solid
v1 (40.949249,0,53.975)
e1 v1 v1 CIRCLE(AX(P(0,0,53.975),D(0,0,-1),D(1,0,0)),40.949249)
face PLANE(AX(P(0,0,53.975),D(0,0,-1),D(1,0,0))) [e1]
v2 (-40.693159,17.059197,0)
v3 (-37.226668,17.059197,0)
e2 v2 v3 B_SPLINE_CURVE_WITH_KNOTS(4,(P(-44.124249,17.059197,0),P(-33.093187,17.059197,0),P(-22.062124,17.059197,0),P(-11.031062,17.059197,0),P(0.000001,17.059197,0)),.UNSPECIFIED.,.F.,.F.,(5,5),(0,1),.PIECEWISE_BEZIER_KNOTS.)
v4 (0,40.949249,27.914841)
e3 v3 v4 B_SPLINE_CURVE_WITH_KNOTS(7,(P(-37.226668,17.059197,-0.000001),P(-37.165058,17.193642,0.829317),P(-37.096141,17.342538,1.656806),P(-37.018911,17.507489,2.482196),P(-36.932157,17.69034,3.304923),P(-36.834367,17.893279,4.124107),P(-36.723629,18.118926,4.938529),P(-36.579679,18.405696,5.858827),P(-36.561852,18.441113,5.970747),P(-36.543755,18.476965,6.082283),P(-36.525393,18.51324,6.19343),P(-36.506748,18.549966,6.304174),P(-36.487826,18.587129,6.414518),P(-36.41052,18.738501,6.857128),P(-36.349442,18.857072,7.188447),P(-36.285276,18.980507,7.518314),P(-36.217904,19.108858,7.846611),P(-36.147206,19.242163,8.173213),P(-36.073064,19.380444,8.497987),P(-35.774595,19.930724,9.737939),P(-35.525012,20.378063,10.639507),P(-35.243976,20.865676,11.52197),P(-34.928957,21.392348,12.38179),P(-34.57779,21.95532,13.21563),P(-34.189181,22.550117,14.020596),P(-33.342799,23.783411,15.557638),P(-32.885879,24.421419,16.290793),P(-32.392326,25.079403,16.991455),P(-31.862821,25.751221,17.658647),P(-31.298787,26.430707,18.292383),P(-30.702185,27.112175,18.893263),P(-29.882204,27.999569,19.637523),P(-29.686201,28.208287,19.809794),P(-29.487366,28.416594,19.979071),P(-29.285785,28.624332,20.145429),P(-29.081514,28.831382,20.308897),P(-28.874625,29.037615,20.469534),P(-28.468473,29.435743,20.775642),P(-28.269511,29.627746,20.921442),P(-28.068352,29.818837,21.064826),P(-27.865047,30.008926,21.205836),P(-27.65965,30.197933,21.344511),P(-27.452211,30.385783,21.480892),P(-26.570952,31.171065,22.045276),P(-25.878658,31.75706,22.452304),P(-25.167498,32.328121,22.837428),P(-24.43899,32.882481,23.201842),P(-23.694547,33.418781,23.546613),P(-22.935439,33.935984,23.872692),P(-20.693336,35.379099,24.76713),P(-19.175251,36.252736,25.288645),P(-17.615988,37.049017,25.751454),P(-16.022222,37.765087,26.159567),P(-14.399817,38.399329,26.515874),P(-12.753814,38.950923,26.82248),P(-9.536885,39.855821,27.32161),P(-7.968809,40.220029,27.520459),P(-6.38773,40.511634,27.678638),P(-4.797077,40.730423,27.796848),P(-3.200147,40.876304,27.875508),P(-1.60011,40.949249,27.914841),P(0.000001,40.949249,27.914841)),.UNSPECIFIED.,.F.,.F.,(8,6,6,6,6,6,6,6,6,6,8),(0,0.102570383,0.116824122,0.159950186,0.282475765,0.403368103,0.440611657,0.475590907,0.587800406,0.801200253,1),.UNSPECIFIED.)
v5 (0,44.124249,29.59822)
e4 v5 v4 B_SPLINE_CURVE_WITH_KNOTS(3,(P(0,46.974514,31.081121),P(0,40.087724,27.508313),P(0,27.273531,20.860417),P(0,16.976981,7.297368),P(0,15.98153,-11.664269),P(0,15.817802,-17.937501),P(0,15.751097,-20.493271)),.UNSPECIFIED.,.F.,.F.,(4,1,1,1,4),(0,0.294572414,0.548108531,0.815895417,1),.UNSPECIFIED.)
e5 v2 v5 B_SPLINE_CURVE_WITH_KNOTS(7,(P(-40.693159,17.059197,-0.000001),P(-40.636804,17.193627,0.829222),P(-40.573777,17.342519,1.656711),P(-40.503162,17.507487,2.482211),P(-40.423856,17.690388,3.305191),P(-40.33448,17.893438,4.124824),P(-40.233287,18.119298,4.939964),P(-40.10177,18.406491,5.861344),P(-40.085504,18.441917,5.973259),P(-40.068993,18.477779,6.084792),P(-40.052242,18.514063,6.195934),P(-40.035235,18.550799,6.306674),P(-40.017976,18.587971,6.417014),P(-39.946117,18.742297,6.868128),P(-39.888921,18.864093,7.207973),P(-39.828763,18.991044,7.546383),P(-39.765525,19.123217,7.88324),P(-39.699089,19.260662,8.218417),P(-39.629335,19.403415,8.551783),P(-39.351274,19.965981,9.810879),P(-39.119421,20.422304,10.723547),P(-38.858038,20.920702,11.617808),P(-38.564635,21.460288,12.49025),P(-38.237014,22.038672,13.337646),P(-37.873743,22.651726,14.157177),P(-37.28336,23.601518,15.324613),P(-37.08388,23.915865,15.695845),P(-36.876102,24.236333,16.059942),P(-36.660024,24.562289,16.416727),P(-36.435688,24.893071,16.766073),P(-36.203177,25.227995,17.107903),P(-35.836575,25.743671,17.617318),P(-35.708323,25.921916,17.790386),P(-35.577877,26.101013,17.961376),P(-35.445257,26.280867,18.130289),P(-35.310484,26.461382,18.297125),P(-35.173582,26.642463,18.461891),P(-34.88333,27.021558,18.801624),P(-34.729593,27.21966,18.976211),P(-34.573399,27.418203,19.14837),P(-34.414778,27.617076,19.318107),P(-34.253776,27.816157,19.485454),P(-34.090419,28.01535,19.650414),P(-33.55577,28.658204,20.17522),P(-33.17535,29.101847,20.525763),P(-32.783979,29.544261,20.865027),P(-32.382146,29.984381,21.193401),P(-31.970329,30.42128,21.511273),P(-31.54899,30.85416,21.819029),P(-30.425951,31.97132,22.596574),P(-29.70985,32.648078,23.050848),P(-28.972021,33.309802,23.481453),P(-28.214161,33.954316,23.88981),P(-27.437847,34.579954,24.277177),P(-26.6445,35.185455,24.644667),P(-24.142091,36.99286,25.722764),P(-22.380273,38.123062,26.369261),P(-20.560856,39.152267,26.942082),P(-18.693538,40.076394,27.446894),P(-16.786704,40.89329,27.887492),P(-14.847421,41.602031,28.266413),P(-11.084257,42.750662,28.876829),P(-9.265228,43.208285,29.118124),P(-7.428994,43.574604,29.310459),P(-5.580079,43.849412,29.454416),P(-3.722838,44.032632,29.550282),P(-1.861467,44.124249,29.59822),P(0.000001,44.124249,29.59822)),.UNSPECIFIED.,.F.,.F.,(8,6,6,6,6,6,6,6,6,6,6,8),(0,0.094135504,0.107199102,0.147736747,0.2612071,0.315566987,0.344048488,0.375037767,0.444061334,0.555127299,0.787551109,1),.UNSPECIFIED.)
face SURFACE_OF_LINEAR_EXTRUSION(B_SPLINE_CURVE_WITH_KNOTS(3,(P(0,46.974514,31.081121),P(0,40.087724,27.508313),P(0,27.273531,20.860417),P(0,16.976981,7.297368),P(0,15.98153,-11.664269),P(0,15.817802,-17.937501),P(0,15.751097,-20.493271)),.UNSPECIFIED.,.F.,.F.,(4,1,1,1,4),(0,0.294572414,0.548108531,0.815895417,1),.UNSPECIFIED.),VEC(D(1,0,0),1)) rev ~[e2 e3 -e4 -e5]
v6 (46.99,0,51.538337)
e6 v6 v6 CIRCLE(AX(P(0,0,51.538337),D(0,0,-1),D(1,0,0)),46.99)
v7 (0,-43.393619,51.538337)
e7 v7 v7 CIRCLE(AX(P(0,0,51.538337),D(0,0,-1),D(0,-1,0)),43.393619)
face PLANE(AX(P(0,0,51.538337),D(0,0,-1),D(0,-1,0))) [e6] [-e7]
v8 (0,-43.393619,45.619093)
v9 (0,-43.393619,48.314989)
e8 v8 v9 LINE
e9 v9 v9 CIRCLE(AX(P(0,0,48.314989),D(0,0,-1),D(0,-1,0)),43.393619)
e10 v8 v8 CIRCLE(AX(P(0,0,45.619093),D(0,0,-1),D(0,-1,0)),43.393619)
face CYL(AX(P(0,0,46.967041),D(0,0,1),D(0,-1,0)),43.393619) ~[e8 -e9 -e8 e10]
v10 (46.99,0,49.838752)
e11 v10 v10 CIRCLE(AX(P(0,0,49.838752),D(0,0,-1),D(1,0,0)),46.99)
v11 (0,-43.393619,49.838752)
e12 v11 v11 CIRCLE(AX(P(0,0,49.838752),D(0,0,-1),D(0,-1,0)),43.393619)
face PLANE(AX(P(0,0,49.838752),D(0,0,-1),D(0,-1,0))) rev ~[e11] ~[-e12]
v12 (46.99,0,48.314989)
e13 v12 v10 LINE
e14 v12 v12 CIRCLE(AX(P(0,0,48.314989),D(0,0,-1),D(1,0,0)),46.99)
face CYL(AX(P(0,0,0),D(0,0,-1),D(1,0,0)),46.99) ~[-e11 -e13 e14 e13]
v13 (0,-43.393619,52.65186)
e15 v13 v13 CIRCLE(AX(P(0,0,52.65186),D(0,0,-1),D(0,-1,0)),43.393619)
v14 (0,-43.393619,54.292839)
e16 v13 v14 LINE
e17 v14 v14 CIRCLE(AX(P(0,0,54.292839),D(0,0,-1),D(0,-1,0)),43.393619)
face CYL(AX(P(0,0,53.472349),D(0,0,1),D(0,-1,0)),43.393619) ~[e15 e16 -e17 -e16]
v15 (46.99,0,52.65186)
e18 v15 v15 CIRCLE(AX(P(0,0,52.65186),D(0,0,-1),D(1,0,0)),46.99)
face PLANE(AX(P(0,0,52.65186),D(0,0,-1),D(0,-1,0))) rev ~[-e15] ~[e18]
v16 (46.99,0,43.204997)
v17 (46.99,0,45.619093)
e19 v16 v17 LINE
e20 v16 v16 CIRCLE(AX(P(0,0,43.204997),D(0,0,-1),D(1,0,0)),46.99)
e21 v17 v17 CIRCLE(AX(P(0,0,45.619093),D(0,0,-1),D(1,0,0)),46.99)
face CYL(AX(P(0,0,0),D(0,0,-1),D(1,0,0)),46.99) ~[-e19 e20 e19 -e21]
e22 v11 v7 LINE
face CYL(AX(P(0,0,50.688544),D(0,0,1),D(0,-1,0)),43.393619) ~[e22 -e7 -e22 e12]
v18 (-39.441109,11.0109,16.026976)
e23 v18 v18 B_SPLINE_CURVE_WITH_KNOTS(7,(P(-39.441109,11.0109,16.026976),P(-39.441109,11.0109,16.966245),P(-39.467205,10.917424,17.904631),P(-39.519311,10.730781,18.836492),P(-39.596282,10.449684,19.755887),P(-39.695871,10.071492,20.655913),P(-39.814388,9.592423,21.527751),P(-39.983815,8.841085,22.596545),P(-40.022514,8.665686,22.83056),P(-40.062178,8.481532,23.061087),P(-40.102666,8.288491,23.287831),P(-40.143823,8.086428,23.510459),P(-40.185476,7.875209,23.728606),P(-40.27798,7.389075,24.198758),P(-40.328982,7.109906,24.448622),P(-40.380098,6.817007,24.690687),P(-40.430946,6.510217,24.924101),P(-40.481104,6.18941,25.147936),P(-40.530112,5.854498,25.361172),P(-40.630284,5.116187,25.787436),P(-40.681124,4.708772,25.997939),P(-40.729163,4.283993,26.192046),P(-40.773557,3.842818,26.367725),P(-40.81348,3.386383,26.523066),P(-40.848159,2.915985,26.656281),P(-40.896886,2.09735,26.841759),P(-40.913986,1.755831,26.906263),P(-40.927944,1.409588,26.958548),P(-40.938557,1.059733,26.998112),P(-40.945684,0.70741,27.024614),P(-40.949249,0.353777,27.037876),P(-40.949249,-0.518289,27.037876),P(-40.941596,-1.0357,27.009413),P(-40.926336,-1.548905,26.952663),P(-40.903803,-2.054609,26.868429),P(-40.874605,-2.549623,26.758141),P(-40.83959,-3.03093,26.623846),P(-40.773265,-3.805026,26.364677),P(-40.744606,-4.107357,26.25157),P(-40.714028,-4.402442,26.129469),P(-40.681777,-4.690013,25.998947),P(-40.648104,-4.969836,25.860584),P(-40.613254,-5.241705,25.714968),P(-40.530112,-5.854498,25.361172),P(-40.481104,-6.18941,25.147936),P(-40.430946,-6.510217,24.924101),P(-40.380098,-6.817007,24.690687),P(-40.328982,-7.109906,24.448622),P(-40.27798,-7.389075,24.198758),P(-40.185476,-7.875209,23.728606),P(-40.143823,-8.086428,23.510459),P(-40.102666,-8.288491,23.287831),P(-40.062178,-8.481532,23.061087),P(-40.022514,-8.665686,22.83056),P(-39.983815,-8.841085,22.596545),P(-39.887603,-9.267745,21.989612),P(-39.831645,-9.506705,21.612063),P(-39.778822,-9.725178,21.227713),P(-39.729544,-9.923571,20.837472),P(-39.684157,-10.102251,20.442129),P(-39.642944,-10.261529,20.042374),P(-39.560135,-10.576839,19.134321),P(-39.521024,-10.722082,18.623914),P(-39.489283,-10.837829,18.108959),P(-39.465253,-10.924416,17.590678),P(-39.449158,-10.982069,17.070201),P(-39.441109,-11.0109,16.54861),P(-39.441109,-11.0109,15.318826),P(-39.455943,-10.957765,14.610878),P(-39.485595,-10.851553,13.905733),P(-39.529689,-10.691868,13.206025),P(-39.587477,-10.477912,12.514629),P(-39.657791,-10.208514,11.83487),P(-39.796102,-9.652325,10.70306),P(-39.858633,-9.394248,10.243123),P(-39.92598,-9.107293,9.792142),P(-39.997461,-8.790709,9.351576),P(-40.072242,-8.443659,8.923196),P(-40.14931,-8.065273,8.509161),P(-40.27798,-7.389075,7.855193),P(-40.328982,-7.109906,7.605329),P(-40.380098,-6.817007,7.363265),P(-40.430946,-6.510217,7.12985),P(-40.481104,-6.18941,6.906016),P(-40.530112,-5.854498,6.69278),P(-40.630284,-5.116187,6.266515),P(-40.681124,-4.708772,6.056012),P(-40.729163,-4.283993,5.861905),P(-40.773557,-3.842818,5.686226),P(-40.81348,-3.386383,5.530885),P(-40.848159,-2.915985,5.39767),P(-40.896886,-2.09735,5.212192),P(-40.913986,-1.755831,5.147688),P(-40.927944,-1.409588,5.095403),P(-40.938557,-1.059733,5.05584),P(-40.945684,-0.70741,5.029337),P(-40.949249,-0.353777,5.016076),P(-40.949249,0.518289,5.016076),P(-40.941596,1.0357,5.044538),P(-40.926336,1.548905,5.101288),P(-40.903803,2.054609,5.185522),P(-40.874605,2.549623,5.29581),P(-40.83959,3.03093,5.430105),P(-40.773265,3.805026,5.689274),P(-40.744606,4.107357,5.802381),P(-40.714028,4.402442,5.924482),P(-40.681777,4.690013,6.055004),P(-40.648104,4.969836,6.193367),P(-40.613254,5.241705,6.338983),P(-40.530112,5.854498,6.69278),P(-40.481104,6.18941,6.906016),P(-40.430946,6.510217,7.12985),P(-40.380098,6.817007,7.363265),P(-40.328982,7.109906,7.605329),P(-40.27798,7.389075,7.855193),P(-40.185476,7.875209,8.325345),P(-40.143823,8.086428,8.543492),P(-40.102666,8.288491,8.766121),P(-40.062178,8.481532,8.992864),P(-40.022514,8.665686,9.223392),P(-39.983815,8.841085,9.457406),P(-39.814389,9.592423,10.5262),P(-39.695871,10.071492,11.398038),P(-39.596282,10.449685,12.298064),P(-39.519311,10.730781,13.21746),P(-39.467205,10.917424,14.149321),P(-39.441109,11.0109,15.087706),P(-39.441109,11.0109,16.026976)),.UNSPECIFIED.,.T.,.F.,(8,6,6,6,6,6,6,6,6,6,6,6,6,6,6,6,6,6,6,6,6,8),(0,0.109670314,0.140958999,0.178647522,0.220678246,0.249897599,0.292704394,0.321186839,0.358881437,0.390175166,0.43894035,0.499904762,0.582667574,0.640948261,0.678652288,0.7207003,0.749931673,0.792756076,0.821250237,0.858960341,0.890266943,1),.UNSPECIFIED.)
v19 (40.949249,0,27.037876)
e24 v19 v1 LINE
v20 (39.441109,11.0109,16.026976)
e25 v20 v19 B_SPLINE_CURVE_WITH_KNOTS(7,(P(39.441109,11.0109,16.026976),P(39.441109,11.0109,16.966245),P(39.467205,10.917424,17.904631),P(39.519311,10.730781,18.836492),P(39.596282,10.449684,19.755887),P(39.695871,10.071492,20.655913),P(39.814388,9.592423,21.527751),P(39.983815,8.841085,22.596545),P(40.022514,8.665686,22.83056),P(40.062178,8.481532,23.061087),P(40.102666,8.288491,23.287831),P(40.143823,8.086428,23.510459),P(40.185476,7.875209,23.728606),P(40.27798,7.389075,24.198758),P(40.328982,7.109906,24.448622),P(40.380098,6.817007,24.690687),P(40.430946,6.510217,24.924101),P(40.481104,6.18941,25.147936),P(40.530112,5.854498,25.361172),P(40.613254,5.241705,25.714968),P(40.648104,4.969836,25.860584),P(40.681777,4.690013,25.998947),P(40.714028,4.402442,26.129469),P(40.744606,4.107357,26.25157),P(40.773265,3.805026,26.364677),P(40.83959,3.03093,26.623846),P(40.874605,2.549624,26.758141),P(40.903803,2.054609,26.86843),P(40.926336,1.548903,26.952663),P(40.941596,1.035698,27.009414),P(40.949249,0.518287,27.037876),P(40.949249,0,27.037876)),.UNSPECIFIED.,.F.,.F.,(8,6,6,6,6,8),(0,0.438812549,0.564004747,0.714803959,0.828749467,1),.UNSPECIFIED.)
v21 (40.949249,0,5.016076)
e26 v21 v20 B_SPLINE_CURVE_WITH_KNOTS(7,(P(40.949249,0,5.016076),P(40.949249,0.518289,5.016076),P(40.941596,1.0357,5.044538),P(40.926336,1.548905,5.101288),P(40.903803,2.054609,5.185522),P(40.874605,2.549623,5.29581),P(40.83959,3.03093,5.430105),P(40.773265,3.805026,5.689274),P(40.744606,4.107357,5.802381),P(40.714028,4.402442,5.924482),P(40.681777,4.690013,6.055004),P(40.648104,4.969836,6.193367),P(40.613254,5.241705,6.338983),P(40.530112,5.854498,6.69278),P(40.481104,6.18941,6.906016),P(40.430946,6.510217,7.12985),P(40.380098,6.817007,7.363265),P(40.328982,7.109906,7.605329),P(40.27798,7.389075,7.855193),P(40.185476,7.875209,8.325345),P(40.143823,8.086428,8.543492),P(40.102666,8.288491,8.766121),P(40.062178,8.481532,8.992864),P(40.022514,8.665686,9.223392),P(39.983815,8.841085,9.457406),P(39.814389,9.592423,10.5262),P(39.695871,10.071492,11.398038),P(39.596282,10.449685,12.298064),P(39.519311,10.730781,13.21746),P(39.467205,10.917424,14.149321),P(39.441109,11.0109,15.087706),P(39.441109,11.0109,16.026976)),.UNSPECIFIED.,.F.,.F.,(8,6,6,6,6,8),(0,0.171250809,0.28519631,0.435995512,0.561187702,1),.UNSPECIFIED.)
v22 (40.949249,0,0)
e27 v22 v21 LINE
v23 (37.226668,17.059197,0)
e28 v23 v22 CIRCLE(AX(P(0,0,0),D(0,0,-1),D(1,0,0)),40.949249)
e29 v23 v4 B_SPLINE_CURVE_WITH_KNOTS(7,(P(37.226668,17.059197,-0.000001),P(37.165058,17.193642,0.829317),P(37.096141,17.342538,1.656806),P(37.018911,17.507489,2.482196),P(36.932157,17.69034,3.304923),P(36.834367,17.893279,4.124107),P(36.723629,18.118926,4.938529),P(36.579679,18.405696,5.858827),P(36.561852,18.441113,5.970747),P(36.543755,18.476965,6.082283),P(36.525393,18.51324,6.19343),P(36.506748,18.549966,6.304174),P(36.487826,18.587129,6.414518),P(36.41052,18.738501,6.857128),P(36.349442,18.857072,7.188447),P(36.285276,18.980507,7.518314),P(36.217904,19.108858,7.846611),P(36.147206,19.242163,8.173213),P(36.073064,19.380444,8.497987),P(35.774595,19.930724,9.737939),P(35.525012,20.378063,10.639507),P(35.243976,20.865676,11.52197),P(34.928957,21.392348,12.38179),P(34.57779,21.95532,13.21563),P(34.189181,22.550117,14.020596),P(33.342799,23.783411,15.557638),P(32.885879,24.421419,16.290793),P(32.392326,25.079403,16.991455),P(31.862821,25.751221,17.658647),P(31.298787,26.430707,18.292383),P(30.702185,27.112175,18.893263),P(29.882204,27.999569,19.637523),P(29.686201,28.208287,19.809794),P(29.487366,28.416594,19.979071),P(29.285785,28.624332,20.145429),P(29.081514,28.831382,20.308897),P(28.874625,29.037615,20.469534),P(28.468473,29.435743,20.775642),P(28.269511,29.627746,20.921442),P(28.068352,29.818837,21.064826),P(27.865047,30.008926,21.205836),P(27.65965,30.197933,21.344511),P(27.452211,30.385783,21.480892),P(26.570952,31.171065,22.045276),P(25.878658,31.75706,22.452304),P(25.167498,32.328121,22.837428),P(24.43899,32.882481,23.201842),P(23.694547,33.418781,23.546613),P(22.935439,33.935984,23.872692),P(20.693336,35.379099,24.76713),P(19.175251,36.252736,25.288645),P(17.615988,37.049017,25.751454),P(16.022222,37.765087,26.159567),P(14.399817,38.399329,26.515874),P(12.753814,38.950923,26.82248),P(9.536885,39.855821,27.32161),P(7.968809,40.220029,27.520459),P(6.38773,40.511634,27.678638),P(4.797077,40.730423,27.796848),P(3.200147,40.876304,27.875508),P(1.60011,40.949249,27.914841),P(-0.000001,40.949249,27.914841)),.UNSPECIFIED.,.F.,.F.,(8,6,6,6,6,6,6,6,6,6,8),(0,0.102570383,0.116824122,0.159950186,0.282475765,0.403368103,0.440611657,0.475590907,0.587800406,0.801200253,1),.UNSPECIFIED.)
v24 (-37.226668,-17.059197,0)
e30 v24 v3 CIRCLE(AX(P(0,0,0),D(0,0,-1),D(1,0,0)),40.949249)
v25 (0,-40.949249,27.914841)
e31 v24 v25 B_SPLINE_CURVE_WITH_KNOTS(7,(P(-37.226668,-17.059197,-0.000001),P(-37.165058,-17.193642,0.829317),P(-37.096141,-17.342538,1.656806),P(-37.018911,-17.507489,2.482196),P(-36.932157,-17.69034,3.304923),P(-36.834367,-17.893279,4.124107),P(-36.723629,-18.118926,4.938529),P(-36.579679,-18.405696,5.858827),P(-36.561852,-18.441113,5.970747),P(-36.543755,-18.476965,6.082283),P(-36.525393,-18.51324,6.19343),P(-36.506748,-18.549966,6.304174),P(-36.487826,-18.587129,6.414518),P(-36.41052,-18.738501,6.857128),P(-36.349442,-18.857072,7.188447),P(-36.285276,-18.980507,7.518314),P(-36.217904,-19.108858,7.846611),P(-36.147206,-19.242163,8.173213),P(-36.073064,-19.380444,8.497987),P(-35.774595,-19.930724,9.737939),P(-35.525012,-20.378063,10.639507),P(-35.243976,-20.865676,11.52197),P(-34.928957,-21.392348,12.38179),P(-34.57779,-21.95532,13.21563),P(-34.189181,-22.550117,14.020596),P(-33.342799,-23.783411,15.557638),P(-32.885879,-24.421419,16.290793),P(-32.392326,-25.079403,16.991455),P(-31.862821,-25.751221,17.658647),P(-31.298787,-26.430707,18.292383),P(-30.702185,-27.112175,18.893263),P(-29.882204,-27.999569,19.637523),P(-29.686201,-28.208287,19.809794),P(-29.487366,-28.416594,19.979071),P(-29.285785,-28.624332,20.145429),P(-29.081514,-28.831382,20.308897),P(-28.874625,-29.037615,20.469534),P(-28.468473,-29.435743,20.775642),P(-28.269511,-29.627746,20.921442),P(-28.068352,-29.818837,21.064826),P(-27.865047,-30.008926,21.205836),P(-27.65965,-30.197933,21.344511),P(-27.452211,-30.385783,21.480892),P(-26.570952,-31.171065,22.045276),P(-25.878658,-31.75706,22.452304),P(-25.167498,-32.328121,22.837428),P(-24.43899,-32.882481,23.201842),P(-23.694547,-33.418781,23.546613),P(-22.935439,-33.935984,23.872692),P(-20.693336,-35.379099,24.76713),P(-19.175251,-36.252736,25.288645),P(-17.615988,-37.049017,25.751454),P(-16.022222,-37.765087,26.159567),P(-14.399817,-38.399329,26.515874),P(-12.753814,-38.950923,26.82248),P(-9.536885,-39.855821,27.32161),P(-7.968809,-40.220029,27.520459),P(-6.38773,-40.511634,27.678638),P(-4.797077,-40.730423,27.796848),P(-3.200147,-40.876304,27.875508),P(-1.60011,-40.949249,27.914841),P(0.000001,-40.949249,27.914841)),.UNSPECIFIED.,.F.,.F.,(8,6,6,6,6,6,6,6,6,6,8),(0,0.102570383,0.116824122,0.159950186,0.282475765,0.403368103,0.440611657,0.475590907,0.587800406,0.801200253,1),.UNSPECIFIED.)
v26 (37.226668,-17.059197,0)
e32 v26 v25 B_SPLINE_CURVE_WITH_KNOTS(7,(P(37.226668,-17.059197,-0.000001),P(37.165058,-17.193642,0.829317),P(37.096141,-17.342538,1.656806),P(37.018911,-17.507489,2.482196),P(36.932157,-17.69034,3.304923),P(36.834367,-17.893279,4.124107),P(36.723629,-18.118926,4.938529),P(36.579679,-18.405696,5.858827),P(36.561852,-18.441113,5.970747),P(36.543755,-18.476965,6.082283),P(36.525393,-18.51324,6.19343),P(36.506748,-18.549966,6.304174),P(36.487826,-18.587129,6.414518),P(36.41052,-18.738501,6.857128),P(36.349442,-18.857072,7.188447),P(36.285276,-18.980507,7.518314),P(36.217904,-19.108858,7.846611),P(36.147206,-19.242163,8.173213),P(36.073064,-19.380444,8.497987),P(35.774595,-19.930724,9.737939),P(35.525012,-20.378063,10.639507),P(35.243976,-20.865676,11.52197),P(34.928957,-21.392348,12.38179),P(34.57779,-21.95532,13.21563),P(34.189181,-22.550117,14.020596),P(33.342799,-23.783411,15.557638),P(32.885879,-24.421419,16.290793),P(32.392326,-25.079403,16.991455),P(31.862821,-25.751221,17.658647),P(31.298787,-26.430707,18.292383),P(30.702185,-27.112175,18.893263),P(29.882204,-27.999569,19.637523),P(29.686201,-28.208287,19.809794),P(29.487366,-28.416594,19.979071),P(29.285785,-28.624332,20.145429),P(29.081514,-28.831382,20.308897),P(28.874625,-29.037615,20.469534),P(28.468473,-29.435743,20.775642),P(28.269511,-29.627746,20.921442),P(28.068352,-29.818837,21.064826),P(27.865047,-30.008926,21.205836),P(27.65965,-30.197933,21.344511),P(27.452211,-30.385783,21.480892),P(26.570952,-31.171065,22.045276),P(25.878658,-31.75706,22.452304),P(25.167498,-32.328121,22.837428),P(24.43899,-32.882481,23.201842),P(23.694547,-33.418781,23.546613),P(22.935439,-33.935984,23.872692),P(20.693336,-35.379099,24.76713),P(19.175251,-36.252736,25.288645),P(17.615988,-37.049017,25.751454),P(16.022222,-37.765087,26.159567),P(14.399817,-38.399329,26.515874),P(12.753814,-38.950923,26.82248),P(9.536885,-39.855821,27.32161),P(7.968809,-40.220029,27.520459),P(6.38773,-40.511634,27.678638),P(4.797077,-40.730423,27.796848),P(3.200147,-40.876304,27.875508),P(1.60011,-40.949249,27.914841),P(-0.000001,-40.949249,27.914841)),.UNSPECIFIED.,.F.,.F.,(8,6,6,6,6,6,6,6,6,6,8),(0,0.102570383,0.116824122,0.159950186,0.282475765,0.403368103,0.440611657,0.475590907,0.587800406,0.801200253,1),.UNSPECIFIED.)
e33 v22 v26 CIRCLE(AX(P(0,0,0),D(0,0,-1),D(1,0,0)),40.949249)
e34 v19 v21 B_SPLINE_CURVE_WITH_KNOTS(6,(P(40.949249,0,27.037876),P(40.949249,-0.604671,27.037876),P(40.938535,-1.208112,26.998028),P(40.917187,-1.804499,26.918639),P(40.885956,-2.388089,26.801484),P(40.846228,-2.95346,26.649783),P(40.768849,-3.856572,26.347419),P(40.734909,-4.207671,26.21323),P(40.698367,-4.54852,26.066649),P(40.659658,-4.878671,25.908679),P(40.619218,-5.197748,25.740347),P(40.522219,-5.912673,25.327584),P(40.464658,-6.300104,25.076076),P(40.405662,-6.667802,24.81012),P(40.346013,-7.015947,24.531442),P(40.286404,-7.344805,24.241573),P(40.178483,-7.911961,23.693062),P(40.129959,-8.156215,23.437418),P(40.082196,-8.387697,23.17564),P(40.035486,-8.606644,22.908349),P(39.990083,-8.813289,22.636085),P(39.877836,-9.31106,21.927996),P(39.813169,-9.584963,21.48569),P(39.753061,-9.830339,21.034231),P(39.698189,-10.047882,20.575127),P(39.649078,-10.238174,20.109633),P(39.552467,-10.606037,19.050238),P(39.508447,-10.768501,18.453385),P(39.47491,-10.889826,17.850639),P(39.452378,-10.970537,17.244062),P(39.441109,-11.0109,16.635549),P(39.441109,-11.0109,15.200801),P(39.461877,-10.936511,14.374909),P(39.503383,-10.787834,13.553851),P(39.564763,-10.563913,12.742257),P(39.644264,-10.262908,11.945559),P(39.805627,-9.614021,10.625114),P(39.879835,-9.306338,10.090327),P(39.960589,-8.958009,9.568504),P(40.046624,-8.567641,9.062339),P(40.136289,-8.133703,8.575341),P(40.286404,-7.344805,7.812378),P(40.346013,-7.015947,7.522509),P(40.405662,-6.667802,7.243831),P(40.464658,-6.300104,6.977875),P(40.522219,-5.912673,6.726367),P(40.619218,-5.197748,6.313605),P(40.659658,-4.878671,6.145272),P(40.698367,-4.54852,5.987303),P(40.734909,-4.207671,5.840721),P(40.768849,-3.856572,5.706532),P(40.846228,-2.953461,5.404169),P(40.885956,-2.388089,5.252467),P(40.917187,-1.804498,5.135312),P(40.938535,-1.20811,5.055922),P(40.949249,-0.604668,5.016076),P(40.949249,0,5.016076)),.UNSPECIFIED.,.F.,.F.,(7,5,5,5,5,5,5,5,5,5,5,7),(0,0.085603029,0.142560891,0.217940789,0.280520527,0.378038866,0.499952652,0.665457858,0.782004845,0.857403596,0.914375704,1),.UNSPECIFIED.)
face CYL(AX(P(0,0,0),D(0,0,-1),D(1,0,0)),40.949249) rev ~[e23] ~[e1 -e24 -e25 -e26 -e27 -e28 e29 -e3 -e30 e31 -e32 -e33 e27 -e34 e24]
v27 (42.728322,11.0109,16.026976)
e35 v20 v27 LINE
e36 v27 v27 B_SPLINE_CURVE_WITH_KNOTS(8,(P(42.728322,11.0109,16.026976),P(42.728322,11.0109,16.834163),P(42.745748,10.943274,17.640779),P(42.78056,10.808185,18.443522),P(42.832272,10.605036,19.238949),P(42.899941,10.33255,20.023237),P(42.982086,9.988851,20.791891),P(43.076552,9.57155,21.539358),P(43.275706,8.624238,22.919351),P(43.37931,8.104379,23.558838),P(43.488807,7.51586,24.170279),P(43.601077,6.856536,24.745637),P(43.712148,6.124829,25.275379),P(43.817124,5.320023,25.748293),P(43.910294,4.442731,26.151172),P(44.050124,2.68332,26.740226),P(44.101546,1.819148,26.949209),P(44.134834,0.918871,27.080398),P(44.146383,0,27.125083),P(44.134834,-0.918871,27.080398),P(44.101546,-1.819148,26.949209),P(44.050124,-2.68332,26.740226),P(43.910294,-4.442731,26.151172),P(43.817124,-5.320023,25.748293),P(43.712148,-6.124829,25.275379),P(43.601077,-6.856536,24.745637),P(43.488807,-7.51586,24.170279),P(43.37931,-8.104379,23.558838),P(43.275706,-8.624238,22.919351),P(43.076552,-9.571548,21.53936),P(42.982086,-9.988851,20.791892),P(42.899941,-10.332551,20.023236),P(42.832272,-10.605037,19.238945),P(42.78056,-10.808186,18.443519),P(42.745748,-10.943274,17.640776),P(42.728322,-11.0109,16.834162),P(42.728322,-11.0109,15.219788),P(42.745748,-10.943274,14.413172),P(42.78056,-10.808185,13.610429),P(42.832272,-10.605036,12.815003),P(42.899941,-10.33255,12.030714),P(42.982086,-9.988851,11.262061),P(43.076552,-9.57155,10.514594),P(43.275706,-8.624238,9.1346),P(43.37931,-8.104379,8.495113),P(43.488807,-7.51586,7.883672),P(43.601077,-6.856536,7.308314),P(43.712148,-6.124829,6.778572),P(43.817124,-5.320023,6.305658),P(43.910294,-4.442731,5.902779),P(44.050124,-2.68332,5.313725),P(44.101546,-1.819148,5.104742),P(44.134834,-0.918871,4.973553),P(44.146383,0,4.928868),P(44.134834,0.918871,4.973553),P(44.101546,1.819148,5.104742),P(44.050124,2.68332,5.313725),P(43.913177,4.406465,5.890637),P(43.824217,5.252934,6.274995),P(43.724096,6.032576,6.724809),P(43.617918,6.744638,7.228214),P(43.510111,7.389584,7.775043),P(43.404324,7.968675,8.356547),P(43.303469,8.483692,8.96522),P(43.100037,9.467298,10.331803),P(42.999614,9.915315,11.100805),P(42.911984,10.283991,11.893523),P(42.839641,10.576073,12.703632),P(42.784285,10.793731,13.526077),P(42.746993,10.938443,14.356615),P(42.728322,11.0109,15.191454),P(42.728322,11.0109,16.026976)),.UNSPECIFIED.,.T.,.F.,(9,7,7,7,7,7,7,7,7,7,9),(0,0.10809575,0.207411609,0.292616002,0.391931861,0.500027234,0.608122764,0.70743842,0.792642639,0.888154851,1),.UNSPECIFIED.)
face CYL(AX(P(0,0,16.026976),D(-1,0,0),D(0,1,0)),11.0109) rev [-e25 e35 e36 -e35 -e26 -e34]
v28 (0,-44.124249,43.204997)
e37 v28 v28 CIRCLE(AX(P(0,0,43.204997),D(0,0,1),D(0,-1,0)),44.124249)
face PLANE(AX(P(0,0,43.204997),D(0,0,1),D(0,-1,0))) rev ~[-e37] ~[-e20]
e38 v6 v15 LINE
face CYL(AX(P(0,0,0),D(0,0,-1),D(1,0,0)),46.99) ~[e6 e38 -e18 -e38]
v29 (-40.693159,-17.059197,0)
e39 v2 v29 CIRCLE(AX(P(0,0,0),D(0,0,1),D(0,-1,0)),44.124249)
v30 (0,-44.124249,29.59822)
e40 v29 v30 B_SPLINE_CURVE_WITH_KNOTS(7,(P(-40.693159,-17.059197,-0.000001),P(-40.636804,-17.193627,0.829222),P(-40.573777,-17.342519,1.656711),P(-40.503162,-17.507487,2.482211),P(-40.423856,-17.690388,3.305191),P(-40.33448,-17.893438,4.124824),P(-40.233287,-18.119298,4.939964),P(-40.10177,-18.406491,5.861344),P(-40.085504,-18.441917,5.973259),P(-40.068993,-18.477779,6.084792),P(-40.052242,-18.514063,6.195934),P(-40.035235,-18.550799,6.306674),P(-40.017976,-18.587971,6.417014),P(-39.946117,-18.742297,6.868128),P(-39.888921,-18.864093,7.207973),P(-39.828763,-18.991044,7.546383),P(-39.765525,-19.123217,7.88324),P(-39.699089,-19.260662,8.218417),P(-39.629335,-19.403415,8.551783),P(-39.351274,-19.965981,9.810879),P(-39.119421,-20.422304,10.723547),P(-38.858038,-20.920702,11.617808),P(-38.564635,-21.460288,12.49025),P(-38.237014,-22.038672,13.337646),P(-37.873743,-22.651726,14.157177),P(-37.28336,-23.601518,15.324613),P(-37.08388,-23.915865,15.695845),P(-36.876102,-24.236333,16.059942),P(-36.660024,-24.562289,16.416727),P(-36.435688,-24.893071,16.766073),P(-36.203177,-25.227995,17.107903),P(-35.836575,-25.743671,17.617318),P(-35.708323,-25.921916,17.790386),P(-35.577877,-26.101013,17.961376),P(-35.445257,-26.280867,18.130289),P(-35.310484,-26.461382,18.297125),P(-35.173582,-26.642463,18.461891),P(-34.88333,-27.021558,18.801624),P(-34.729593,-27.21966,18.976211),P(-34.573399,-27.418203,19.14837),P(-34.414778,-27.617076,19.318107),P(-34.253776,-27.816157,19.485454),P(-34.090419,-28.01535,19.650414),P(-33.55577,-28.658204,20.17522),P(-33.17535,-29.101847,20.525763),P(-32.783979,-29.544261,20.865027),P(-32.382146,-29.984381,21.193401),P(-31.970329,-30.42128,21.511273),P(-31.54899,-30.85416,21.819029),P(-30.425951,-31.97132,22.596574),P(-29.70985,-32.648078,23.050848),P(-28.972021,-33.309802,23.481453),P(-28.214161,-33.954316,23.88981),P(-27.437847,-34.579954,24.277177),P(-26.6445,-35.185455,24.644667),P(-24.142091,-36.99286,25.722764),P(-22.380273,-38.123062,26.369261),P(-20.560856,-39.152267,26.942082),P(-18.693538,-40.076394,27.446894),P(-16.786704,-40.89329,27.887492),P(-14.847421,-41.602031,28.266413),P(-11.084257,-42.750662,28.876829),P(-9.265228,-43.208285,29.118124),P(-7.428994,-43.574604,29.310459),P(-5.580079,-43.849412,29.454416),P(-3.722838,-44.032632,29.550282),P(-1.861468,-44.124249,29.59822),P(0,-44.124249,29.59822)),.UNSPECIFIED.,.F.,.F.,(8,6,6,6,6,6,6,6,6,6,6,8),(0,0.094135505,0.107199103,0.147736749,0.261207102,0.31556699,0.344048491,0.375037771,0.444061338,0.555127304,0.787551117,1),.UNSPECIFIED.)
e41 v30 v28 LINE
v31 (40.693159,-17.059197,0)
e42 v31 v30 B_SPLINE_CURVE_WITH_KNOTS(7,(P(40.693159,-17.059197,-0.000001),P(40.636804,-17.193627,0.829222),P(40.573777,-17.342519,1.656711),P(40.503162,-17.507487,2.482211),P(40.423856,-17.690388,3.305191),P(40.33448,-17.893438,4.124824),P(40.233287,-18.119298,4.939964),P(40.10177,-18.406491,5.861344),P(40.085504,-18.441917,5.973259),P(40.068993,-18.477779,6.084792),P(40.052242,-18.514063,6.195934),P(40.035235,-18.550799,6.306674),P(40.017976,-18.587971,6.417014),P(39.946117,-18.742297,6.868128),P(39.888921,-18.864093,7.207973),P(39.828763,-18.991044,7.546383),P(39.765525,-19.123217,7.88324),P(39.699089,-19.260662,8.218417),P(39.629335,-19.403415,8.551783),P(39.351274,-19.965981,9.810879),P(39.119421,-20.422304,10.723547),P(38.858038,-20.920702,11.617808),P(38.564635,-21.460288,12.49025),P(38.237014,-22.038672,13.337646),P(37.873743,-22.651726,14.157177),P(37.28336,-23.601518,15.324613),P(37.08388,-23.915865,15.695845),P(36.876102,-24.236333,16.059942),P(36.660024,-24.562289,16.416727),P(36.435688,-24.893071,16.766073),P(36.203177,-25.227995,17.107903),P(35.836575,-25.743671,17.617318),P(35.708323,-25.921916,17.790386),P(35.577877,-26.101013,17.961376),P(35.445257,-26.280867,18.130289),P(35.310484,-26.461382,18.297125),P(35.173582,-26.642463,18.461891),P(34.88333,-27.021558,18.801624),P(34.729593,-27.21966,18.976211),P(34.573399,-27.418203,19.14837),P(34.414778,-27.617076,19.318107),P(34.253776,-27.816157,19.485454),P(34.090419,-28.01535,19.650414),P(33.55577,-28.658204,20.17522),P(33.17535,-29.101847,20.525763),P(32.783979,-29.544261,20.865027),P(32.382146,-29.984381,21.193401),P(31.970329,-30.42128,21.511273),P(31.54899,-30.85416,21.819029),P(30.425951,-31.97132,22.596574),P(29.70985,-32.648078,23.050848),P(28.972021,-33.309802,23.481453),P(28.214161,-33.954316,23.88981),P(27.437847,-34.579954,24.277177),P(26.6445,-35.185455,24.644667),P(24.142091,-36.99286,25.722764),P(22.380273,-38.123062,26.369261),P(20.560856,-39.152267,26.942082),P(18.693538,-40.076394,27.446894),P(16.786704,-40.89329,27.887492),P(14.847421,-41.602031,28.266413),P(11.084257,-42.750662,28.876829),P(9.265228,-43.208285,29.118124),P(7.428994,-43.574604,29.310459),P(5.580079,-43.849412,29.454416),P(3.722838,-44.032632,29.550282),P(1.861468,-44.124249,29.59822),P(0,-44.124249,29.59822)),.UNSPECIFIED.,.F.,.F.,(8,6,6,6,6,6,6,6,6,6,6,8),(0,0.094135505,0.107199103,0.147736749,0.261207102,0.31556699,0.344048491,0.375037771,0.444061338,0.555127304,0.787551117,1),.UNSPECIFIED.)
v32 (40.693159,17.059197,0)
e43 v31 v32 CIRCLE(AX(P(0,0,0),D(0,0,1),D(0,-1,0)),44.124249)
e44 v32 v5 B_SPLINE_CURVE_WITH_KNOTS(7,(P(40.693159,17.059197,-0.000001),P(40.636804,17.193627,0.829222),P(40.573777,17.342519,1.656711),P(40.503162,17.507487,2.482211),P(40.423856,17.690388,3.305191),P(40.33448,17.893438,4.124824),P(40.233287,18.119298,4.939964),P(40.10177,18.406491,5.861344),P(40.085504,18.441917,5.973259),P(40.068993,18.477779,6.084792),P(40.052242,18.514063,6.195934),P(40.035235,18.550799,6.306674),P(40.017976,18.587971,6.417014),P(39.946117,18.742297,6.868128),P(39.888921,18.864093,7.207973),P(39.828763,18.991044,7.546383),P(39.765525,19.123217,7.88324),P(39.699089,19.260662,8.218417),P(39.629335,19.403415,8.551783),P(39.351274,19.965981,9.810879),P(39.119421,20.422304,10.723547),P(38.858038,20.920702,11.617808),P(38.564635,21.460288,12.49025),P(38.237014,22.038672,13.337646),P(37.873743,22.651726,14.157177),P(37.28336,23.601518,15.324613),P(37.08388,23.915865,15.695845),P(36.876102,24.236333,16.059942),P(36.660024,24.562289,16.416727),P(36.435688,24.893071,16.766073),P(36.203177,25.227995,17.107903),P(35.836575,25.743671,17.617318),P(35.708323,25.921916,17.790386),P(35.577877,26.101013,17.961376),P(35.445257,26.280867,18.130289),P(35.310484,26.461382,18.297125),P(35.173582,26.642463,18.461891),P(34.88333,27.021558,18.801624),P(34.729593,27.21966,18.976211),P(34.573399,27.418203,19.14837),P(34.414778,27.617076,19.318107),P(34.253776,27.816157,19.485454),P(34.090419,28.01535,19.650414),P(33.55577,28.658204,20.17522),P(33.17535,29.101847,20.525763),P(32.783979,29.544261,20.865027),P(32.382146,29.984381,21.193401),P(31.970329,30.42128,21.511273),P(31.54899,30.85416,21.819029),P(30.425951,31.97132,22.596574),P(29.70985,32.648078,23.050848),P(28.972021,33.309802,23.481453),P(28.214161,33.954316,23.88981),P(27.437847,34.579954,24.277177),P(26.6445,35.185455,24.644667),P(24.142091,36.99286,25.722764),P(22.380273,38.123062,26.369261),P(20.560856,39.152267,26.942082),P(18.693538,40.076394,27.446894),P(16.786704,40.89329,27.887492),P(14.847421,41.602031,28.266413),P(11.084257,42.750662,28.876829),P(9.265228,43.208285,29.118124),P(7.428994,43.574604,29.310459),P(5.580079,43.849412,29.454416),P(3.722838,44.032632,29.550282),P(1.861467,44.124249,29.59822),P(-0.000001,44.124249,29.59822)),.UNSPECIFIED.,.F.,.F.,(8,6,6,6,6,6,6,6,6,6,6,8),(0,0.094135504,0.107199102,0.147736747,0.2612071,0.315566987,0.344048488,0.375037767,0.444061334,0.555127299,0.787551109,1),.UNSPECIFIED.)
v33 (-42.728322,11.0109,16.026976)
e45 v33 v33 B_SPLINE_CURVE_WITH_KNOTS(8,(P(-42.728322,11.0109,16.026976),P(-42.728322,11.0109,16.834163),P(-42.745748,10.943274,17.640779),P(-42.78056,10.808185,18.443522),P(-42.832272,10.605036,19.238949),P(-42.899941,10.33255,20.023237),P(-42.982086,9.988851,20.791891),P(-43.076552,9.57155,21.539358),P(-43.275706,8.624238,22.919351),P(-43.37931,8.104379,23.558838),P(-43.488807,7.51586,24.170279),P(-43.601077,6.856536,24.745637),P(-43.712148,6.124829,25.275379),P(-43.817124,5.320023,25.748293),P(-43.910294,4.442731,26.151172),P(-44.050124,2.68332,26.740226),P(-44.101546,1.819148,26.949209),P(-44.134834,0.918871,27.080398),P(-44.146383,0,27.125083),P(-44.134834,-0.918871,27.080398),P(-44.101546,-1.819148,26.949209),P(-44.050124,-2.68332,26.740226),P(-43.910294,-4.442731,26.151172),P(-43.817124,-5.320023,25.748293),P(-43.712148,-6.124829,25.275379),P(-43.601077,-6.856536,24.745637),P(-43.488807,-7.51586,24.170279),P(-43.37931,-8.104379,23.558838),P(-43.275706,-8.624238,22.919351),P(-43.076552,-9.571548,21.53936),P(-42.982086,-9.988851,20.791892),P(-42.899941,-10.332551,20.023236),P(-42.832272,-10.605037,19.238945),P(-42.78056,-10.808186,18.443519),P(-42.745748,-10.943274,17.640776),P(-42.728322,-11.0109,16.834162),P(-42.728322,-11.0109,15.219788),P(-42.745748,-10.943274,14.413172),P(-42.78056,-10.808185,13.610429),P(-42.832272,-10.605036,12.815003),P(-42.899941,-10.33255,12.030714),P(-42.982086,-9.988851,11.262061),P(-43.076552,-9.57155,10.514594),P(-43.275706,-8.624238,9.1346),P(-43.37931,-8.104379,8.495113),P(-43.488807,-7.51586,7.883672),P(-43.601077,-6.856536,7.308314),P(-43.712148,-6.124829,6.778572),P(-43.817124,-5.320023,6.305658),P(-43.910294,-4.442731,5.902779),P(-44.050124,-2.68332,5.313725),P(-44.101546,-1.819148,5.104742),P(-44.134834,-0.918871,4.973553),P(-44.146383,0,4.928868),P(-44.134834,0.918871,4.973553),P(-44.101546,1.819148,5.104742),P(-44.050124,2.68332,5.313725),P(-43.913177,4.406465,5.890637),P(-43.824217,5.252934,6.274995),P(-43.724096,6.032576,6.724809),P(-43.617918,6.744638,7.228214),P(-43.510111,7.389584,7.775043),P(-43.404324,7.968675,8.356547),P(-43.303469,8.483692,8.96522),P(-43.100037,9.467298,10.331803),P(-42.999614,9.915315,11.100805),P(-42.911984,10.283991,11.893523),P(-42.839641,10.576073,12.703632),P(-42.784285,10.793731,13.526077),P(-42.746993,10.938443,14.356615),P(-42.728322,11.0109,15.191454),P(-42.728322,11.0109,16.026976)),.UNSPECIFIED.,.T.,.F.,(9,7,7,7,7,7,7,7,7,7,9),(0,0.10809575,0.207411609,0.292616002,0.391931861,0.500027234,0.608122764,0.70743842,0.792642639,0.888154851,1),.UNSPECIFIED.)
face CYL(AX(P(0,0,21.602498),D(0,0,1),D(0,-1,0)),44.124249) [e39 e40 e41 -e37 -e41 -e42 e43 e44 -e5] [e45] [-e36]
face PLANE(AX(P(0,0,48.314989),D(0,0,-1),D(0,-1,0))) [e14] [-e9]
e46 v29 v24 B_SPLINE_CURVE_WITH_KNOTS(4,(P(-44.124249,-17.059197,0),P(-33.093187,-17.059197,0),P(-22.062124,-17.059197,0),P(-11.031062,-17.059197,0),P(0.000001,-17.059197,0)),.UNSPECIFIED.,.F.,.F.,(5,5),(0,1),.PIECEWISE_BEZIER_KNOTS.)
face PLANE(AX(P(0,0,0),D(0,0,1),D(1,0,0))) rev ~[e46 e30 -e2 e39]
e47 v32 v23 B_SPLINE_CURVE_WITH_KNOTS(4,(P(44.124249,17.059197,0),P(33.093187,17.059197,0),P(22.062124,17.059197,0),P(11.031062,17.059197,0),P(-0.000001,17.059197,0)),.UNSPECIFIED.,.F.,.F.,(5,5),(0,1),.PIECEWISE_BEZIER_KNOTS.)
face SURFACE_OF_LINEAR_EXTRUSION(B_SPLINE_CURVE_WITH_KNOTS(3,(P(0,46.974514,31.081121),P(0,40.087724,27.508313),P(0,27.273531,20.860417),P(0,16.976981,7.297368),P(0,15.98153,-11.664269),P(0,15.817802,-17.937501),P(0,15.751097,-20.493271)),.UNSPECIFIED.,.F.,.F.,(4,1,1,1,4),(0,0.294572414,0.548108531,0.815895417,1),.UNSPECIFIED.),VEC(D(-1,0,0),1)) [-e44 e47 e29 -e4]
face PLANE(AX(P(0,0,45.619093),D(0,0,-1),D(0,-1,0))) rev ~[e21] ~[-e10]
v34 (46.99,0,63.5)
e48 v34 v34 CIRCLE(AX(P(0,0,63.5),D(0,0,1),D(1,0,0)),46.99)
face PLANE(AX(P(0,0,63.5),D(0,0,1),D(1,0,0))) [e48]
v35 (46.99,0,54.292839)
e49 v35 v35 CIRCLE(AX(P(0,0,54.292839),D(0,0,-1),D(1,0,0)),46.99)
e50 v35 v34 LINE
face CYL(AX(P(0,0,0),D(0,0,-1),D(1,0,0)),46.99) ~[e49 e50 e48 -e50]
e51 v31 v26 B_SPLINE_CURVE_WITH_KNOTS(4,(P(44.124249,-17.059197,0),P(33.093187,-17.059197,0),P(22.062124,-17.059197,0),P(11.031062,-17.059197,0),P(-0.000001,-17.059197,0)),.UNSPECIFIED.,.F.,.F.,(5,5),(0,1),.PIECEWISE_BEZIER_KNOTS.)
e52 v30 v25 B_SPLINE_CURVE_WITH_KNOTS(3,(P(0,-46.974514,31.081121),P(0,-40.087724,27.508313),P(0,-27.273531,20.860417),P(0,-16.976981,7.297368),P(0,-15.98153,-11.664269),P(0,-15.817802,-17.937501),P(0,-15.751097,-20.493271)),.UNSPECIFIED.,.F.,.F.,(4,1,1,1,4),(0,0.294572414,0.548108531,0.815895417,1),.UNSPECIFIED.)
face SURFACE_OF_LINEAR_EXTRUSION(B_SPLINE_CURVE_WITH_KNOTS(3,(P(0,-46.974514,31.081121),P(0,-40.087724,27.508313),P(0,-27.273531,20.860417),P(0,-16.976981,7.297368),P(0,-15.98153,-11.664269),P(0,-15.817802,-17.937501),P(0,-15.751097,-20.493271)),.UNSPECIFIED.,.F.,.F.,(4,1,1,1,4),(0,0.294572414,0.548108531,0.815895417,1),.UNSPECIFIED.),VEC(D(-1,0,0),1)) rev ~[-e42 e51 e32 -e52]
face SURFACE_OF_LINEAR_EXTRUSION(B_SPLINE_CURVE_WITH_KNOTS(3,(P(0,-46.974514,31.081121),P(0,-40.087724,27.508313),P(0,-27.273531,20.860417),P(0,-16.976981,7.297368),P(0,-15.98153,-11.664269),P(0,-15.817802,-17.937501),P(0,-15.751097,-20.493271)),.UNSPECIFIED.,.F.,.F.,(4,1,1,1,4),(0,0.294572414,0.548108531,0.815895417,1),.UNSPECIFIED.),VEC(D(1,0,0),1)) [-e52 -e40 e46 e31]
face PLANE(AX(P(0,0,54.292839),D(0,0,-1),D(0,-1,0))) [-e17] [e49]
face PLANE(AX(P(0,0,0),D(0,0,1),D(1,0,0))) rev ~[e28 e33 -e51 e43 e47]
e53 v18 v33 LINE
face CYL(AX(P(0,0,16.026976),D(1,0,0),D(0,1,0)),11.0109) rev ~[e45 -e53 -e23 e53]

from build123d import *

# Parameters (mm, degrees)
F0_R     = 46.99
F1_DEPTH = 63.5
F2_W     = 8.8553838432
F2_H     = 43.2049967349
F4_W     = 5.4503902793
F4_H     = 1.6409792006
F4_H_2   = 1.6995854676
F4_H_3   = 2.6958957314
F6_R     = 40.9492493689
F7_DEPTH = 53.975
F8_R     = 11.0109
F9_DEPTH = 50.8


with BuildPart() as f1:
    # F0 (on Top) → F1 (new body)
    with BuildSketch(Plane.XY):
        Circle(F0_R)
    extrude(amount=F1_DEPTH)

    # F2 (on Right) → F3 (revolve, cut)
    with BuildSketch(Plane.YZ):
        with Locations((-48.5519412905, 21.6024983674)):
            Rectangle(F2_W, F2_H)
    revolve(axis=Axis((0, 0, 0), (0, 0, 1)), mode=Mode.SUBTRACT)

    # F4 (on Right) → F5 (revolve, cut)
    with BuildSketch(Plane.YZ):
        with Locations((-46.1188144982, 53.4723494202)):
            Rectangle(F4_W, F4_H)
        with Locations((-46.1188144982, 50.6885442883)):
            Rectangle(F4_W, F4_H_2)
        with Locations((-46.1188144982, 46.9670407474)):
            Rectangle(F4_W, F4_H_3)
    revolve(axis=Axis((0, 0, 43.2049967349), (0, 0, -1)), mode=Mode.SUBTRACT)

    # F6 (on face) → F7 (cut)
    with BuildSketch(Plane(origin=(0, 0, 0), x_dir=(1, 0, 0), z_dir=(0, 0, -1))):
        Circle(F6_R)
    extrude(amount=-F7_DEPTH, mode=Mode.SUBTRACT)

    # F8 (on Right) → F9 (cut, symmetric)
    with BuildSketch(Plane.YZ):
        with BuildLine():
            add(Edge.make_bspline(
                [(-46.9745136797, 31.0811214149), (-40.0877244728, 27.5083131565), (-27.2735309688, 20.8604174535), (-16.9769809248, 7.2973682669), (-15.9815300532, -11.6642689281), (-15.8178017222, -17.9375006966), (-15.7510973513, -20.4932708293)],
                knots=[0, 0, 0, 0, 0.2945724143, 0.5481085314, 0.815895417, 1, 1, 1, 1], degree=3))
            Line((-46.9745136797, 31.0811214149), (-50.5986586213, -20.4932708293))
            Line((-50.5986586213, -20.4932708293), (-15.7510973513, -20.4932708293))
        make_face()
        with Locations((0, 16.026975587)):
            Circle(F8_R)
        with BuildLine():
            Line((50.5986586213, -20.4932708293), (46.9745136797, 31.0811214149))
            add(Edge.make_bspline(
                [(46.9745136797, 31.0811214149), (40.0877244728, 27.5083131565), (27.2735309688, 20.8604174535), (16.9769809248, 7.2973682669), (15.9815300532, -11.6642689281), (15.8178017222, -17.9375006966), (15.7510973513, -20.4932708293)],
                knots=[0, 0, 0, 0, 0.2945724143, 0.5481085314, 0.815895417, 1, 1, 1, 1], degree=3))
            Line((15.7510973513, -20.4932708293), (50.5986586213, -20.4932708293))
        make_face()
    extrude(amount=F9_DEPTH, both=True, mode=Mode.SUBTRACT)


solid = f1.part
